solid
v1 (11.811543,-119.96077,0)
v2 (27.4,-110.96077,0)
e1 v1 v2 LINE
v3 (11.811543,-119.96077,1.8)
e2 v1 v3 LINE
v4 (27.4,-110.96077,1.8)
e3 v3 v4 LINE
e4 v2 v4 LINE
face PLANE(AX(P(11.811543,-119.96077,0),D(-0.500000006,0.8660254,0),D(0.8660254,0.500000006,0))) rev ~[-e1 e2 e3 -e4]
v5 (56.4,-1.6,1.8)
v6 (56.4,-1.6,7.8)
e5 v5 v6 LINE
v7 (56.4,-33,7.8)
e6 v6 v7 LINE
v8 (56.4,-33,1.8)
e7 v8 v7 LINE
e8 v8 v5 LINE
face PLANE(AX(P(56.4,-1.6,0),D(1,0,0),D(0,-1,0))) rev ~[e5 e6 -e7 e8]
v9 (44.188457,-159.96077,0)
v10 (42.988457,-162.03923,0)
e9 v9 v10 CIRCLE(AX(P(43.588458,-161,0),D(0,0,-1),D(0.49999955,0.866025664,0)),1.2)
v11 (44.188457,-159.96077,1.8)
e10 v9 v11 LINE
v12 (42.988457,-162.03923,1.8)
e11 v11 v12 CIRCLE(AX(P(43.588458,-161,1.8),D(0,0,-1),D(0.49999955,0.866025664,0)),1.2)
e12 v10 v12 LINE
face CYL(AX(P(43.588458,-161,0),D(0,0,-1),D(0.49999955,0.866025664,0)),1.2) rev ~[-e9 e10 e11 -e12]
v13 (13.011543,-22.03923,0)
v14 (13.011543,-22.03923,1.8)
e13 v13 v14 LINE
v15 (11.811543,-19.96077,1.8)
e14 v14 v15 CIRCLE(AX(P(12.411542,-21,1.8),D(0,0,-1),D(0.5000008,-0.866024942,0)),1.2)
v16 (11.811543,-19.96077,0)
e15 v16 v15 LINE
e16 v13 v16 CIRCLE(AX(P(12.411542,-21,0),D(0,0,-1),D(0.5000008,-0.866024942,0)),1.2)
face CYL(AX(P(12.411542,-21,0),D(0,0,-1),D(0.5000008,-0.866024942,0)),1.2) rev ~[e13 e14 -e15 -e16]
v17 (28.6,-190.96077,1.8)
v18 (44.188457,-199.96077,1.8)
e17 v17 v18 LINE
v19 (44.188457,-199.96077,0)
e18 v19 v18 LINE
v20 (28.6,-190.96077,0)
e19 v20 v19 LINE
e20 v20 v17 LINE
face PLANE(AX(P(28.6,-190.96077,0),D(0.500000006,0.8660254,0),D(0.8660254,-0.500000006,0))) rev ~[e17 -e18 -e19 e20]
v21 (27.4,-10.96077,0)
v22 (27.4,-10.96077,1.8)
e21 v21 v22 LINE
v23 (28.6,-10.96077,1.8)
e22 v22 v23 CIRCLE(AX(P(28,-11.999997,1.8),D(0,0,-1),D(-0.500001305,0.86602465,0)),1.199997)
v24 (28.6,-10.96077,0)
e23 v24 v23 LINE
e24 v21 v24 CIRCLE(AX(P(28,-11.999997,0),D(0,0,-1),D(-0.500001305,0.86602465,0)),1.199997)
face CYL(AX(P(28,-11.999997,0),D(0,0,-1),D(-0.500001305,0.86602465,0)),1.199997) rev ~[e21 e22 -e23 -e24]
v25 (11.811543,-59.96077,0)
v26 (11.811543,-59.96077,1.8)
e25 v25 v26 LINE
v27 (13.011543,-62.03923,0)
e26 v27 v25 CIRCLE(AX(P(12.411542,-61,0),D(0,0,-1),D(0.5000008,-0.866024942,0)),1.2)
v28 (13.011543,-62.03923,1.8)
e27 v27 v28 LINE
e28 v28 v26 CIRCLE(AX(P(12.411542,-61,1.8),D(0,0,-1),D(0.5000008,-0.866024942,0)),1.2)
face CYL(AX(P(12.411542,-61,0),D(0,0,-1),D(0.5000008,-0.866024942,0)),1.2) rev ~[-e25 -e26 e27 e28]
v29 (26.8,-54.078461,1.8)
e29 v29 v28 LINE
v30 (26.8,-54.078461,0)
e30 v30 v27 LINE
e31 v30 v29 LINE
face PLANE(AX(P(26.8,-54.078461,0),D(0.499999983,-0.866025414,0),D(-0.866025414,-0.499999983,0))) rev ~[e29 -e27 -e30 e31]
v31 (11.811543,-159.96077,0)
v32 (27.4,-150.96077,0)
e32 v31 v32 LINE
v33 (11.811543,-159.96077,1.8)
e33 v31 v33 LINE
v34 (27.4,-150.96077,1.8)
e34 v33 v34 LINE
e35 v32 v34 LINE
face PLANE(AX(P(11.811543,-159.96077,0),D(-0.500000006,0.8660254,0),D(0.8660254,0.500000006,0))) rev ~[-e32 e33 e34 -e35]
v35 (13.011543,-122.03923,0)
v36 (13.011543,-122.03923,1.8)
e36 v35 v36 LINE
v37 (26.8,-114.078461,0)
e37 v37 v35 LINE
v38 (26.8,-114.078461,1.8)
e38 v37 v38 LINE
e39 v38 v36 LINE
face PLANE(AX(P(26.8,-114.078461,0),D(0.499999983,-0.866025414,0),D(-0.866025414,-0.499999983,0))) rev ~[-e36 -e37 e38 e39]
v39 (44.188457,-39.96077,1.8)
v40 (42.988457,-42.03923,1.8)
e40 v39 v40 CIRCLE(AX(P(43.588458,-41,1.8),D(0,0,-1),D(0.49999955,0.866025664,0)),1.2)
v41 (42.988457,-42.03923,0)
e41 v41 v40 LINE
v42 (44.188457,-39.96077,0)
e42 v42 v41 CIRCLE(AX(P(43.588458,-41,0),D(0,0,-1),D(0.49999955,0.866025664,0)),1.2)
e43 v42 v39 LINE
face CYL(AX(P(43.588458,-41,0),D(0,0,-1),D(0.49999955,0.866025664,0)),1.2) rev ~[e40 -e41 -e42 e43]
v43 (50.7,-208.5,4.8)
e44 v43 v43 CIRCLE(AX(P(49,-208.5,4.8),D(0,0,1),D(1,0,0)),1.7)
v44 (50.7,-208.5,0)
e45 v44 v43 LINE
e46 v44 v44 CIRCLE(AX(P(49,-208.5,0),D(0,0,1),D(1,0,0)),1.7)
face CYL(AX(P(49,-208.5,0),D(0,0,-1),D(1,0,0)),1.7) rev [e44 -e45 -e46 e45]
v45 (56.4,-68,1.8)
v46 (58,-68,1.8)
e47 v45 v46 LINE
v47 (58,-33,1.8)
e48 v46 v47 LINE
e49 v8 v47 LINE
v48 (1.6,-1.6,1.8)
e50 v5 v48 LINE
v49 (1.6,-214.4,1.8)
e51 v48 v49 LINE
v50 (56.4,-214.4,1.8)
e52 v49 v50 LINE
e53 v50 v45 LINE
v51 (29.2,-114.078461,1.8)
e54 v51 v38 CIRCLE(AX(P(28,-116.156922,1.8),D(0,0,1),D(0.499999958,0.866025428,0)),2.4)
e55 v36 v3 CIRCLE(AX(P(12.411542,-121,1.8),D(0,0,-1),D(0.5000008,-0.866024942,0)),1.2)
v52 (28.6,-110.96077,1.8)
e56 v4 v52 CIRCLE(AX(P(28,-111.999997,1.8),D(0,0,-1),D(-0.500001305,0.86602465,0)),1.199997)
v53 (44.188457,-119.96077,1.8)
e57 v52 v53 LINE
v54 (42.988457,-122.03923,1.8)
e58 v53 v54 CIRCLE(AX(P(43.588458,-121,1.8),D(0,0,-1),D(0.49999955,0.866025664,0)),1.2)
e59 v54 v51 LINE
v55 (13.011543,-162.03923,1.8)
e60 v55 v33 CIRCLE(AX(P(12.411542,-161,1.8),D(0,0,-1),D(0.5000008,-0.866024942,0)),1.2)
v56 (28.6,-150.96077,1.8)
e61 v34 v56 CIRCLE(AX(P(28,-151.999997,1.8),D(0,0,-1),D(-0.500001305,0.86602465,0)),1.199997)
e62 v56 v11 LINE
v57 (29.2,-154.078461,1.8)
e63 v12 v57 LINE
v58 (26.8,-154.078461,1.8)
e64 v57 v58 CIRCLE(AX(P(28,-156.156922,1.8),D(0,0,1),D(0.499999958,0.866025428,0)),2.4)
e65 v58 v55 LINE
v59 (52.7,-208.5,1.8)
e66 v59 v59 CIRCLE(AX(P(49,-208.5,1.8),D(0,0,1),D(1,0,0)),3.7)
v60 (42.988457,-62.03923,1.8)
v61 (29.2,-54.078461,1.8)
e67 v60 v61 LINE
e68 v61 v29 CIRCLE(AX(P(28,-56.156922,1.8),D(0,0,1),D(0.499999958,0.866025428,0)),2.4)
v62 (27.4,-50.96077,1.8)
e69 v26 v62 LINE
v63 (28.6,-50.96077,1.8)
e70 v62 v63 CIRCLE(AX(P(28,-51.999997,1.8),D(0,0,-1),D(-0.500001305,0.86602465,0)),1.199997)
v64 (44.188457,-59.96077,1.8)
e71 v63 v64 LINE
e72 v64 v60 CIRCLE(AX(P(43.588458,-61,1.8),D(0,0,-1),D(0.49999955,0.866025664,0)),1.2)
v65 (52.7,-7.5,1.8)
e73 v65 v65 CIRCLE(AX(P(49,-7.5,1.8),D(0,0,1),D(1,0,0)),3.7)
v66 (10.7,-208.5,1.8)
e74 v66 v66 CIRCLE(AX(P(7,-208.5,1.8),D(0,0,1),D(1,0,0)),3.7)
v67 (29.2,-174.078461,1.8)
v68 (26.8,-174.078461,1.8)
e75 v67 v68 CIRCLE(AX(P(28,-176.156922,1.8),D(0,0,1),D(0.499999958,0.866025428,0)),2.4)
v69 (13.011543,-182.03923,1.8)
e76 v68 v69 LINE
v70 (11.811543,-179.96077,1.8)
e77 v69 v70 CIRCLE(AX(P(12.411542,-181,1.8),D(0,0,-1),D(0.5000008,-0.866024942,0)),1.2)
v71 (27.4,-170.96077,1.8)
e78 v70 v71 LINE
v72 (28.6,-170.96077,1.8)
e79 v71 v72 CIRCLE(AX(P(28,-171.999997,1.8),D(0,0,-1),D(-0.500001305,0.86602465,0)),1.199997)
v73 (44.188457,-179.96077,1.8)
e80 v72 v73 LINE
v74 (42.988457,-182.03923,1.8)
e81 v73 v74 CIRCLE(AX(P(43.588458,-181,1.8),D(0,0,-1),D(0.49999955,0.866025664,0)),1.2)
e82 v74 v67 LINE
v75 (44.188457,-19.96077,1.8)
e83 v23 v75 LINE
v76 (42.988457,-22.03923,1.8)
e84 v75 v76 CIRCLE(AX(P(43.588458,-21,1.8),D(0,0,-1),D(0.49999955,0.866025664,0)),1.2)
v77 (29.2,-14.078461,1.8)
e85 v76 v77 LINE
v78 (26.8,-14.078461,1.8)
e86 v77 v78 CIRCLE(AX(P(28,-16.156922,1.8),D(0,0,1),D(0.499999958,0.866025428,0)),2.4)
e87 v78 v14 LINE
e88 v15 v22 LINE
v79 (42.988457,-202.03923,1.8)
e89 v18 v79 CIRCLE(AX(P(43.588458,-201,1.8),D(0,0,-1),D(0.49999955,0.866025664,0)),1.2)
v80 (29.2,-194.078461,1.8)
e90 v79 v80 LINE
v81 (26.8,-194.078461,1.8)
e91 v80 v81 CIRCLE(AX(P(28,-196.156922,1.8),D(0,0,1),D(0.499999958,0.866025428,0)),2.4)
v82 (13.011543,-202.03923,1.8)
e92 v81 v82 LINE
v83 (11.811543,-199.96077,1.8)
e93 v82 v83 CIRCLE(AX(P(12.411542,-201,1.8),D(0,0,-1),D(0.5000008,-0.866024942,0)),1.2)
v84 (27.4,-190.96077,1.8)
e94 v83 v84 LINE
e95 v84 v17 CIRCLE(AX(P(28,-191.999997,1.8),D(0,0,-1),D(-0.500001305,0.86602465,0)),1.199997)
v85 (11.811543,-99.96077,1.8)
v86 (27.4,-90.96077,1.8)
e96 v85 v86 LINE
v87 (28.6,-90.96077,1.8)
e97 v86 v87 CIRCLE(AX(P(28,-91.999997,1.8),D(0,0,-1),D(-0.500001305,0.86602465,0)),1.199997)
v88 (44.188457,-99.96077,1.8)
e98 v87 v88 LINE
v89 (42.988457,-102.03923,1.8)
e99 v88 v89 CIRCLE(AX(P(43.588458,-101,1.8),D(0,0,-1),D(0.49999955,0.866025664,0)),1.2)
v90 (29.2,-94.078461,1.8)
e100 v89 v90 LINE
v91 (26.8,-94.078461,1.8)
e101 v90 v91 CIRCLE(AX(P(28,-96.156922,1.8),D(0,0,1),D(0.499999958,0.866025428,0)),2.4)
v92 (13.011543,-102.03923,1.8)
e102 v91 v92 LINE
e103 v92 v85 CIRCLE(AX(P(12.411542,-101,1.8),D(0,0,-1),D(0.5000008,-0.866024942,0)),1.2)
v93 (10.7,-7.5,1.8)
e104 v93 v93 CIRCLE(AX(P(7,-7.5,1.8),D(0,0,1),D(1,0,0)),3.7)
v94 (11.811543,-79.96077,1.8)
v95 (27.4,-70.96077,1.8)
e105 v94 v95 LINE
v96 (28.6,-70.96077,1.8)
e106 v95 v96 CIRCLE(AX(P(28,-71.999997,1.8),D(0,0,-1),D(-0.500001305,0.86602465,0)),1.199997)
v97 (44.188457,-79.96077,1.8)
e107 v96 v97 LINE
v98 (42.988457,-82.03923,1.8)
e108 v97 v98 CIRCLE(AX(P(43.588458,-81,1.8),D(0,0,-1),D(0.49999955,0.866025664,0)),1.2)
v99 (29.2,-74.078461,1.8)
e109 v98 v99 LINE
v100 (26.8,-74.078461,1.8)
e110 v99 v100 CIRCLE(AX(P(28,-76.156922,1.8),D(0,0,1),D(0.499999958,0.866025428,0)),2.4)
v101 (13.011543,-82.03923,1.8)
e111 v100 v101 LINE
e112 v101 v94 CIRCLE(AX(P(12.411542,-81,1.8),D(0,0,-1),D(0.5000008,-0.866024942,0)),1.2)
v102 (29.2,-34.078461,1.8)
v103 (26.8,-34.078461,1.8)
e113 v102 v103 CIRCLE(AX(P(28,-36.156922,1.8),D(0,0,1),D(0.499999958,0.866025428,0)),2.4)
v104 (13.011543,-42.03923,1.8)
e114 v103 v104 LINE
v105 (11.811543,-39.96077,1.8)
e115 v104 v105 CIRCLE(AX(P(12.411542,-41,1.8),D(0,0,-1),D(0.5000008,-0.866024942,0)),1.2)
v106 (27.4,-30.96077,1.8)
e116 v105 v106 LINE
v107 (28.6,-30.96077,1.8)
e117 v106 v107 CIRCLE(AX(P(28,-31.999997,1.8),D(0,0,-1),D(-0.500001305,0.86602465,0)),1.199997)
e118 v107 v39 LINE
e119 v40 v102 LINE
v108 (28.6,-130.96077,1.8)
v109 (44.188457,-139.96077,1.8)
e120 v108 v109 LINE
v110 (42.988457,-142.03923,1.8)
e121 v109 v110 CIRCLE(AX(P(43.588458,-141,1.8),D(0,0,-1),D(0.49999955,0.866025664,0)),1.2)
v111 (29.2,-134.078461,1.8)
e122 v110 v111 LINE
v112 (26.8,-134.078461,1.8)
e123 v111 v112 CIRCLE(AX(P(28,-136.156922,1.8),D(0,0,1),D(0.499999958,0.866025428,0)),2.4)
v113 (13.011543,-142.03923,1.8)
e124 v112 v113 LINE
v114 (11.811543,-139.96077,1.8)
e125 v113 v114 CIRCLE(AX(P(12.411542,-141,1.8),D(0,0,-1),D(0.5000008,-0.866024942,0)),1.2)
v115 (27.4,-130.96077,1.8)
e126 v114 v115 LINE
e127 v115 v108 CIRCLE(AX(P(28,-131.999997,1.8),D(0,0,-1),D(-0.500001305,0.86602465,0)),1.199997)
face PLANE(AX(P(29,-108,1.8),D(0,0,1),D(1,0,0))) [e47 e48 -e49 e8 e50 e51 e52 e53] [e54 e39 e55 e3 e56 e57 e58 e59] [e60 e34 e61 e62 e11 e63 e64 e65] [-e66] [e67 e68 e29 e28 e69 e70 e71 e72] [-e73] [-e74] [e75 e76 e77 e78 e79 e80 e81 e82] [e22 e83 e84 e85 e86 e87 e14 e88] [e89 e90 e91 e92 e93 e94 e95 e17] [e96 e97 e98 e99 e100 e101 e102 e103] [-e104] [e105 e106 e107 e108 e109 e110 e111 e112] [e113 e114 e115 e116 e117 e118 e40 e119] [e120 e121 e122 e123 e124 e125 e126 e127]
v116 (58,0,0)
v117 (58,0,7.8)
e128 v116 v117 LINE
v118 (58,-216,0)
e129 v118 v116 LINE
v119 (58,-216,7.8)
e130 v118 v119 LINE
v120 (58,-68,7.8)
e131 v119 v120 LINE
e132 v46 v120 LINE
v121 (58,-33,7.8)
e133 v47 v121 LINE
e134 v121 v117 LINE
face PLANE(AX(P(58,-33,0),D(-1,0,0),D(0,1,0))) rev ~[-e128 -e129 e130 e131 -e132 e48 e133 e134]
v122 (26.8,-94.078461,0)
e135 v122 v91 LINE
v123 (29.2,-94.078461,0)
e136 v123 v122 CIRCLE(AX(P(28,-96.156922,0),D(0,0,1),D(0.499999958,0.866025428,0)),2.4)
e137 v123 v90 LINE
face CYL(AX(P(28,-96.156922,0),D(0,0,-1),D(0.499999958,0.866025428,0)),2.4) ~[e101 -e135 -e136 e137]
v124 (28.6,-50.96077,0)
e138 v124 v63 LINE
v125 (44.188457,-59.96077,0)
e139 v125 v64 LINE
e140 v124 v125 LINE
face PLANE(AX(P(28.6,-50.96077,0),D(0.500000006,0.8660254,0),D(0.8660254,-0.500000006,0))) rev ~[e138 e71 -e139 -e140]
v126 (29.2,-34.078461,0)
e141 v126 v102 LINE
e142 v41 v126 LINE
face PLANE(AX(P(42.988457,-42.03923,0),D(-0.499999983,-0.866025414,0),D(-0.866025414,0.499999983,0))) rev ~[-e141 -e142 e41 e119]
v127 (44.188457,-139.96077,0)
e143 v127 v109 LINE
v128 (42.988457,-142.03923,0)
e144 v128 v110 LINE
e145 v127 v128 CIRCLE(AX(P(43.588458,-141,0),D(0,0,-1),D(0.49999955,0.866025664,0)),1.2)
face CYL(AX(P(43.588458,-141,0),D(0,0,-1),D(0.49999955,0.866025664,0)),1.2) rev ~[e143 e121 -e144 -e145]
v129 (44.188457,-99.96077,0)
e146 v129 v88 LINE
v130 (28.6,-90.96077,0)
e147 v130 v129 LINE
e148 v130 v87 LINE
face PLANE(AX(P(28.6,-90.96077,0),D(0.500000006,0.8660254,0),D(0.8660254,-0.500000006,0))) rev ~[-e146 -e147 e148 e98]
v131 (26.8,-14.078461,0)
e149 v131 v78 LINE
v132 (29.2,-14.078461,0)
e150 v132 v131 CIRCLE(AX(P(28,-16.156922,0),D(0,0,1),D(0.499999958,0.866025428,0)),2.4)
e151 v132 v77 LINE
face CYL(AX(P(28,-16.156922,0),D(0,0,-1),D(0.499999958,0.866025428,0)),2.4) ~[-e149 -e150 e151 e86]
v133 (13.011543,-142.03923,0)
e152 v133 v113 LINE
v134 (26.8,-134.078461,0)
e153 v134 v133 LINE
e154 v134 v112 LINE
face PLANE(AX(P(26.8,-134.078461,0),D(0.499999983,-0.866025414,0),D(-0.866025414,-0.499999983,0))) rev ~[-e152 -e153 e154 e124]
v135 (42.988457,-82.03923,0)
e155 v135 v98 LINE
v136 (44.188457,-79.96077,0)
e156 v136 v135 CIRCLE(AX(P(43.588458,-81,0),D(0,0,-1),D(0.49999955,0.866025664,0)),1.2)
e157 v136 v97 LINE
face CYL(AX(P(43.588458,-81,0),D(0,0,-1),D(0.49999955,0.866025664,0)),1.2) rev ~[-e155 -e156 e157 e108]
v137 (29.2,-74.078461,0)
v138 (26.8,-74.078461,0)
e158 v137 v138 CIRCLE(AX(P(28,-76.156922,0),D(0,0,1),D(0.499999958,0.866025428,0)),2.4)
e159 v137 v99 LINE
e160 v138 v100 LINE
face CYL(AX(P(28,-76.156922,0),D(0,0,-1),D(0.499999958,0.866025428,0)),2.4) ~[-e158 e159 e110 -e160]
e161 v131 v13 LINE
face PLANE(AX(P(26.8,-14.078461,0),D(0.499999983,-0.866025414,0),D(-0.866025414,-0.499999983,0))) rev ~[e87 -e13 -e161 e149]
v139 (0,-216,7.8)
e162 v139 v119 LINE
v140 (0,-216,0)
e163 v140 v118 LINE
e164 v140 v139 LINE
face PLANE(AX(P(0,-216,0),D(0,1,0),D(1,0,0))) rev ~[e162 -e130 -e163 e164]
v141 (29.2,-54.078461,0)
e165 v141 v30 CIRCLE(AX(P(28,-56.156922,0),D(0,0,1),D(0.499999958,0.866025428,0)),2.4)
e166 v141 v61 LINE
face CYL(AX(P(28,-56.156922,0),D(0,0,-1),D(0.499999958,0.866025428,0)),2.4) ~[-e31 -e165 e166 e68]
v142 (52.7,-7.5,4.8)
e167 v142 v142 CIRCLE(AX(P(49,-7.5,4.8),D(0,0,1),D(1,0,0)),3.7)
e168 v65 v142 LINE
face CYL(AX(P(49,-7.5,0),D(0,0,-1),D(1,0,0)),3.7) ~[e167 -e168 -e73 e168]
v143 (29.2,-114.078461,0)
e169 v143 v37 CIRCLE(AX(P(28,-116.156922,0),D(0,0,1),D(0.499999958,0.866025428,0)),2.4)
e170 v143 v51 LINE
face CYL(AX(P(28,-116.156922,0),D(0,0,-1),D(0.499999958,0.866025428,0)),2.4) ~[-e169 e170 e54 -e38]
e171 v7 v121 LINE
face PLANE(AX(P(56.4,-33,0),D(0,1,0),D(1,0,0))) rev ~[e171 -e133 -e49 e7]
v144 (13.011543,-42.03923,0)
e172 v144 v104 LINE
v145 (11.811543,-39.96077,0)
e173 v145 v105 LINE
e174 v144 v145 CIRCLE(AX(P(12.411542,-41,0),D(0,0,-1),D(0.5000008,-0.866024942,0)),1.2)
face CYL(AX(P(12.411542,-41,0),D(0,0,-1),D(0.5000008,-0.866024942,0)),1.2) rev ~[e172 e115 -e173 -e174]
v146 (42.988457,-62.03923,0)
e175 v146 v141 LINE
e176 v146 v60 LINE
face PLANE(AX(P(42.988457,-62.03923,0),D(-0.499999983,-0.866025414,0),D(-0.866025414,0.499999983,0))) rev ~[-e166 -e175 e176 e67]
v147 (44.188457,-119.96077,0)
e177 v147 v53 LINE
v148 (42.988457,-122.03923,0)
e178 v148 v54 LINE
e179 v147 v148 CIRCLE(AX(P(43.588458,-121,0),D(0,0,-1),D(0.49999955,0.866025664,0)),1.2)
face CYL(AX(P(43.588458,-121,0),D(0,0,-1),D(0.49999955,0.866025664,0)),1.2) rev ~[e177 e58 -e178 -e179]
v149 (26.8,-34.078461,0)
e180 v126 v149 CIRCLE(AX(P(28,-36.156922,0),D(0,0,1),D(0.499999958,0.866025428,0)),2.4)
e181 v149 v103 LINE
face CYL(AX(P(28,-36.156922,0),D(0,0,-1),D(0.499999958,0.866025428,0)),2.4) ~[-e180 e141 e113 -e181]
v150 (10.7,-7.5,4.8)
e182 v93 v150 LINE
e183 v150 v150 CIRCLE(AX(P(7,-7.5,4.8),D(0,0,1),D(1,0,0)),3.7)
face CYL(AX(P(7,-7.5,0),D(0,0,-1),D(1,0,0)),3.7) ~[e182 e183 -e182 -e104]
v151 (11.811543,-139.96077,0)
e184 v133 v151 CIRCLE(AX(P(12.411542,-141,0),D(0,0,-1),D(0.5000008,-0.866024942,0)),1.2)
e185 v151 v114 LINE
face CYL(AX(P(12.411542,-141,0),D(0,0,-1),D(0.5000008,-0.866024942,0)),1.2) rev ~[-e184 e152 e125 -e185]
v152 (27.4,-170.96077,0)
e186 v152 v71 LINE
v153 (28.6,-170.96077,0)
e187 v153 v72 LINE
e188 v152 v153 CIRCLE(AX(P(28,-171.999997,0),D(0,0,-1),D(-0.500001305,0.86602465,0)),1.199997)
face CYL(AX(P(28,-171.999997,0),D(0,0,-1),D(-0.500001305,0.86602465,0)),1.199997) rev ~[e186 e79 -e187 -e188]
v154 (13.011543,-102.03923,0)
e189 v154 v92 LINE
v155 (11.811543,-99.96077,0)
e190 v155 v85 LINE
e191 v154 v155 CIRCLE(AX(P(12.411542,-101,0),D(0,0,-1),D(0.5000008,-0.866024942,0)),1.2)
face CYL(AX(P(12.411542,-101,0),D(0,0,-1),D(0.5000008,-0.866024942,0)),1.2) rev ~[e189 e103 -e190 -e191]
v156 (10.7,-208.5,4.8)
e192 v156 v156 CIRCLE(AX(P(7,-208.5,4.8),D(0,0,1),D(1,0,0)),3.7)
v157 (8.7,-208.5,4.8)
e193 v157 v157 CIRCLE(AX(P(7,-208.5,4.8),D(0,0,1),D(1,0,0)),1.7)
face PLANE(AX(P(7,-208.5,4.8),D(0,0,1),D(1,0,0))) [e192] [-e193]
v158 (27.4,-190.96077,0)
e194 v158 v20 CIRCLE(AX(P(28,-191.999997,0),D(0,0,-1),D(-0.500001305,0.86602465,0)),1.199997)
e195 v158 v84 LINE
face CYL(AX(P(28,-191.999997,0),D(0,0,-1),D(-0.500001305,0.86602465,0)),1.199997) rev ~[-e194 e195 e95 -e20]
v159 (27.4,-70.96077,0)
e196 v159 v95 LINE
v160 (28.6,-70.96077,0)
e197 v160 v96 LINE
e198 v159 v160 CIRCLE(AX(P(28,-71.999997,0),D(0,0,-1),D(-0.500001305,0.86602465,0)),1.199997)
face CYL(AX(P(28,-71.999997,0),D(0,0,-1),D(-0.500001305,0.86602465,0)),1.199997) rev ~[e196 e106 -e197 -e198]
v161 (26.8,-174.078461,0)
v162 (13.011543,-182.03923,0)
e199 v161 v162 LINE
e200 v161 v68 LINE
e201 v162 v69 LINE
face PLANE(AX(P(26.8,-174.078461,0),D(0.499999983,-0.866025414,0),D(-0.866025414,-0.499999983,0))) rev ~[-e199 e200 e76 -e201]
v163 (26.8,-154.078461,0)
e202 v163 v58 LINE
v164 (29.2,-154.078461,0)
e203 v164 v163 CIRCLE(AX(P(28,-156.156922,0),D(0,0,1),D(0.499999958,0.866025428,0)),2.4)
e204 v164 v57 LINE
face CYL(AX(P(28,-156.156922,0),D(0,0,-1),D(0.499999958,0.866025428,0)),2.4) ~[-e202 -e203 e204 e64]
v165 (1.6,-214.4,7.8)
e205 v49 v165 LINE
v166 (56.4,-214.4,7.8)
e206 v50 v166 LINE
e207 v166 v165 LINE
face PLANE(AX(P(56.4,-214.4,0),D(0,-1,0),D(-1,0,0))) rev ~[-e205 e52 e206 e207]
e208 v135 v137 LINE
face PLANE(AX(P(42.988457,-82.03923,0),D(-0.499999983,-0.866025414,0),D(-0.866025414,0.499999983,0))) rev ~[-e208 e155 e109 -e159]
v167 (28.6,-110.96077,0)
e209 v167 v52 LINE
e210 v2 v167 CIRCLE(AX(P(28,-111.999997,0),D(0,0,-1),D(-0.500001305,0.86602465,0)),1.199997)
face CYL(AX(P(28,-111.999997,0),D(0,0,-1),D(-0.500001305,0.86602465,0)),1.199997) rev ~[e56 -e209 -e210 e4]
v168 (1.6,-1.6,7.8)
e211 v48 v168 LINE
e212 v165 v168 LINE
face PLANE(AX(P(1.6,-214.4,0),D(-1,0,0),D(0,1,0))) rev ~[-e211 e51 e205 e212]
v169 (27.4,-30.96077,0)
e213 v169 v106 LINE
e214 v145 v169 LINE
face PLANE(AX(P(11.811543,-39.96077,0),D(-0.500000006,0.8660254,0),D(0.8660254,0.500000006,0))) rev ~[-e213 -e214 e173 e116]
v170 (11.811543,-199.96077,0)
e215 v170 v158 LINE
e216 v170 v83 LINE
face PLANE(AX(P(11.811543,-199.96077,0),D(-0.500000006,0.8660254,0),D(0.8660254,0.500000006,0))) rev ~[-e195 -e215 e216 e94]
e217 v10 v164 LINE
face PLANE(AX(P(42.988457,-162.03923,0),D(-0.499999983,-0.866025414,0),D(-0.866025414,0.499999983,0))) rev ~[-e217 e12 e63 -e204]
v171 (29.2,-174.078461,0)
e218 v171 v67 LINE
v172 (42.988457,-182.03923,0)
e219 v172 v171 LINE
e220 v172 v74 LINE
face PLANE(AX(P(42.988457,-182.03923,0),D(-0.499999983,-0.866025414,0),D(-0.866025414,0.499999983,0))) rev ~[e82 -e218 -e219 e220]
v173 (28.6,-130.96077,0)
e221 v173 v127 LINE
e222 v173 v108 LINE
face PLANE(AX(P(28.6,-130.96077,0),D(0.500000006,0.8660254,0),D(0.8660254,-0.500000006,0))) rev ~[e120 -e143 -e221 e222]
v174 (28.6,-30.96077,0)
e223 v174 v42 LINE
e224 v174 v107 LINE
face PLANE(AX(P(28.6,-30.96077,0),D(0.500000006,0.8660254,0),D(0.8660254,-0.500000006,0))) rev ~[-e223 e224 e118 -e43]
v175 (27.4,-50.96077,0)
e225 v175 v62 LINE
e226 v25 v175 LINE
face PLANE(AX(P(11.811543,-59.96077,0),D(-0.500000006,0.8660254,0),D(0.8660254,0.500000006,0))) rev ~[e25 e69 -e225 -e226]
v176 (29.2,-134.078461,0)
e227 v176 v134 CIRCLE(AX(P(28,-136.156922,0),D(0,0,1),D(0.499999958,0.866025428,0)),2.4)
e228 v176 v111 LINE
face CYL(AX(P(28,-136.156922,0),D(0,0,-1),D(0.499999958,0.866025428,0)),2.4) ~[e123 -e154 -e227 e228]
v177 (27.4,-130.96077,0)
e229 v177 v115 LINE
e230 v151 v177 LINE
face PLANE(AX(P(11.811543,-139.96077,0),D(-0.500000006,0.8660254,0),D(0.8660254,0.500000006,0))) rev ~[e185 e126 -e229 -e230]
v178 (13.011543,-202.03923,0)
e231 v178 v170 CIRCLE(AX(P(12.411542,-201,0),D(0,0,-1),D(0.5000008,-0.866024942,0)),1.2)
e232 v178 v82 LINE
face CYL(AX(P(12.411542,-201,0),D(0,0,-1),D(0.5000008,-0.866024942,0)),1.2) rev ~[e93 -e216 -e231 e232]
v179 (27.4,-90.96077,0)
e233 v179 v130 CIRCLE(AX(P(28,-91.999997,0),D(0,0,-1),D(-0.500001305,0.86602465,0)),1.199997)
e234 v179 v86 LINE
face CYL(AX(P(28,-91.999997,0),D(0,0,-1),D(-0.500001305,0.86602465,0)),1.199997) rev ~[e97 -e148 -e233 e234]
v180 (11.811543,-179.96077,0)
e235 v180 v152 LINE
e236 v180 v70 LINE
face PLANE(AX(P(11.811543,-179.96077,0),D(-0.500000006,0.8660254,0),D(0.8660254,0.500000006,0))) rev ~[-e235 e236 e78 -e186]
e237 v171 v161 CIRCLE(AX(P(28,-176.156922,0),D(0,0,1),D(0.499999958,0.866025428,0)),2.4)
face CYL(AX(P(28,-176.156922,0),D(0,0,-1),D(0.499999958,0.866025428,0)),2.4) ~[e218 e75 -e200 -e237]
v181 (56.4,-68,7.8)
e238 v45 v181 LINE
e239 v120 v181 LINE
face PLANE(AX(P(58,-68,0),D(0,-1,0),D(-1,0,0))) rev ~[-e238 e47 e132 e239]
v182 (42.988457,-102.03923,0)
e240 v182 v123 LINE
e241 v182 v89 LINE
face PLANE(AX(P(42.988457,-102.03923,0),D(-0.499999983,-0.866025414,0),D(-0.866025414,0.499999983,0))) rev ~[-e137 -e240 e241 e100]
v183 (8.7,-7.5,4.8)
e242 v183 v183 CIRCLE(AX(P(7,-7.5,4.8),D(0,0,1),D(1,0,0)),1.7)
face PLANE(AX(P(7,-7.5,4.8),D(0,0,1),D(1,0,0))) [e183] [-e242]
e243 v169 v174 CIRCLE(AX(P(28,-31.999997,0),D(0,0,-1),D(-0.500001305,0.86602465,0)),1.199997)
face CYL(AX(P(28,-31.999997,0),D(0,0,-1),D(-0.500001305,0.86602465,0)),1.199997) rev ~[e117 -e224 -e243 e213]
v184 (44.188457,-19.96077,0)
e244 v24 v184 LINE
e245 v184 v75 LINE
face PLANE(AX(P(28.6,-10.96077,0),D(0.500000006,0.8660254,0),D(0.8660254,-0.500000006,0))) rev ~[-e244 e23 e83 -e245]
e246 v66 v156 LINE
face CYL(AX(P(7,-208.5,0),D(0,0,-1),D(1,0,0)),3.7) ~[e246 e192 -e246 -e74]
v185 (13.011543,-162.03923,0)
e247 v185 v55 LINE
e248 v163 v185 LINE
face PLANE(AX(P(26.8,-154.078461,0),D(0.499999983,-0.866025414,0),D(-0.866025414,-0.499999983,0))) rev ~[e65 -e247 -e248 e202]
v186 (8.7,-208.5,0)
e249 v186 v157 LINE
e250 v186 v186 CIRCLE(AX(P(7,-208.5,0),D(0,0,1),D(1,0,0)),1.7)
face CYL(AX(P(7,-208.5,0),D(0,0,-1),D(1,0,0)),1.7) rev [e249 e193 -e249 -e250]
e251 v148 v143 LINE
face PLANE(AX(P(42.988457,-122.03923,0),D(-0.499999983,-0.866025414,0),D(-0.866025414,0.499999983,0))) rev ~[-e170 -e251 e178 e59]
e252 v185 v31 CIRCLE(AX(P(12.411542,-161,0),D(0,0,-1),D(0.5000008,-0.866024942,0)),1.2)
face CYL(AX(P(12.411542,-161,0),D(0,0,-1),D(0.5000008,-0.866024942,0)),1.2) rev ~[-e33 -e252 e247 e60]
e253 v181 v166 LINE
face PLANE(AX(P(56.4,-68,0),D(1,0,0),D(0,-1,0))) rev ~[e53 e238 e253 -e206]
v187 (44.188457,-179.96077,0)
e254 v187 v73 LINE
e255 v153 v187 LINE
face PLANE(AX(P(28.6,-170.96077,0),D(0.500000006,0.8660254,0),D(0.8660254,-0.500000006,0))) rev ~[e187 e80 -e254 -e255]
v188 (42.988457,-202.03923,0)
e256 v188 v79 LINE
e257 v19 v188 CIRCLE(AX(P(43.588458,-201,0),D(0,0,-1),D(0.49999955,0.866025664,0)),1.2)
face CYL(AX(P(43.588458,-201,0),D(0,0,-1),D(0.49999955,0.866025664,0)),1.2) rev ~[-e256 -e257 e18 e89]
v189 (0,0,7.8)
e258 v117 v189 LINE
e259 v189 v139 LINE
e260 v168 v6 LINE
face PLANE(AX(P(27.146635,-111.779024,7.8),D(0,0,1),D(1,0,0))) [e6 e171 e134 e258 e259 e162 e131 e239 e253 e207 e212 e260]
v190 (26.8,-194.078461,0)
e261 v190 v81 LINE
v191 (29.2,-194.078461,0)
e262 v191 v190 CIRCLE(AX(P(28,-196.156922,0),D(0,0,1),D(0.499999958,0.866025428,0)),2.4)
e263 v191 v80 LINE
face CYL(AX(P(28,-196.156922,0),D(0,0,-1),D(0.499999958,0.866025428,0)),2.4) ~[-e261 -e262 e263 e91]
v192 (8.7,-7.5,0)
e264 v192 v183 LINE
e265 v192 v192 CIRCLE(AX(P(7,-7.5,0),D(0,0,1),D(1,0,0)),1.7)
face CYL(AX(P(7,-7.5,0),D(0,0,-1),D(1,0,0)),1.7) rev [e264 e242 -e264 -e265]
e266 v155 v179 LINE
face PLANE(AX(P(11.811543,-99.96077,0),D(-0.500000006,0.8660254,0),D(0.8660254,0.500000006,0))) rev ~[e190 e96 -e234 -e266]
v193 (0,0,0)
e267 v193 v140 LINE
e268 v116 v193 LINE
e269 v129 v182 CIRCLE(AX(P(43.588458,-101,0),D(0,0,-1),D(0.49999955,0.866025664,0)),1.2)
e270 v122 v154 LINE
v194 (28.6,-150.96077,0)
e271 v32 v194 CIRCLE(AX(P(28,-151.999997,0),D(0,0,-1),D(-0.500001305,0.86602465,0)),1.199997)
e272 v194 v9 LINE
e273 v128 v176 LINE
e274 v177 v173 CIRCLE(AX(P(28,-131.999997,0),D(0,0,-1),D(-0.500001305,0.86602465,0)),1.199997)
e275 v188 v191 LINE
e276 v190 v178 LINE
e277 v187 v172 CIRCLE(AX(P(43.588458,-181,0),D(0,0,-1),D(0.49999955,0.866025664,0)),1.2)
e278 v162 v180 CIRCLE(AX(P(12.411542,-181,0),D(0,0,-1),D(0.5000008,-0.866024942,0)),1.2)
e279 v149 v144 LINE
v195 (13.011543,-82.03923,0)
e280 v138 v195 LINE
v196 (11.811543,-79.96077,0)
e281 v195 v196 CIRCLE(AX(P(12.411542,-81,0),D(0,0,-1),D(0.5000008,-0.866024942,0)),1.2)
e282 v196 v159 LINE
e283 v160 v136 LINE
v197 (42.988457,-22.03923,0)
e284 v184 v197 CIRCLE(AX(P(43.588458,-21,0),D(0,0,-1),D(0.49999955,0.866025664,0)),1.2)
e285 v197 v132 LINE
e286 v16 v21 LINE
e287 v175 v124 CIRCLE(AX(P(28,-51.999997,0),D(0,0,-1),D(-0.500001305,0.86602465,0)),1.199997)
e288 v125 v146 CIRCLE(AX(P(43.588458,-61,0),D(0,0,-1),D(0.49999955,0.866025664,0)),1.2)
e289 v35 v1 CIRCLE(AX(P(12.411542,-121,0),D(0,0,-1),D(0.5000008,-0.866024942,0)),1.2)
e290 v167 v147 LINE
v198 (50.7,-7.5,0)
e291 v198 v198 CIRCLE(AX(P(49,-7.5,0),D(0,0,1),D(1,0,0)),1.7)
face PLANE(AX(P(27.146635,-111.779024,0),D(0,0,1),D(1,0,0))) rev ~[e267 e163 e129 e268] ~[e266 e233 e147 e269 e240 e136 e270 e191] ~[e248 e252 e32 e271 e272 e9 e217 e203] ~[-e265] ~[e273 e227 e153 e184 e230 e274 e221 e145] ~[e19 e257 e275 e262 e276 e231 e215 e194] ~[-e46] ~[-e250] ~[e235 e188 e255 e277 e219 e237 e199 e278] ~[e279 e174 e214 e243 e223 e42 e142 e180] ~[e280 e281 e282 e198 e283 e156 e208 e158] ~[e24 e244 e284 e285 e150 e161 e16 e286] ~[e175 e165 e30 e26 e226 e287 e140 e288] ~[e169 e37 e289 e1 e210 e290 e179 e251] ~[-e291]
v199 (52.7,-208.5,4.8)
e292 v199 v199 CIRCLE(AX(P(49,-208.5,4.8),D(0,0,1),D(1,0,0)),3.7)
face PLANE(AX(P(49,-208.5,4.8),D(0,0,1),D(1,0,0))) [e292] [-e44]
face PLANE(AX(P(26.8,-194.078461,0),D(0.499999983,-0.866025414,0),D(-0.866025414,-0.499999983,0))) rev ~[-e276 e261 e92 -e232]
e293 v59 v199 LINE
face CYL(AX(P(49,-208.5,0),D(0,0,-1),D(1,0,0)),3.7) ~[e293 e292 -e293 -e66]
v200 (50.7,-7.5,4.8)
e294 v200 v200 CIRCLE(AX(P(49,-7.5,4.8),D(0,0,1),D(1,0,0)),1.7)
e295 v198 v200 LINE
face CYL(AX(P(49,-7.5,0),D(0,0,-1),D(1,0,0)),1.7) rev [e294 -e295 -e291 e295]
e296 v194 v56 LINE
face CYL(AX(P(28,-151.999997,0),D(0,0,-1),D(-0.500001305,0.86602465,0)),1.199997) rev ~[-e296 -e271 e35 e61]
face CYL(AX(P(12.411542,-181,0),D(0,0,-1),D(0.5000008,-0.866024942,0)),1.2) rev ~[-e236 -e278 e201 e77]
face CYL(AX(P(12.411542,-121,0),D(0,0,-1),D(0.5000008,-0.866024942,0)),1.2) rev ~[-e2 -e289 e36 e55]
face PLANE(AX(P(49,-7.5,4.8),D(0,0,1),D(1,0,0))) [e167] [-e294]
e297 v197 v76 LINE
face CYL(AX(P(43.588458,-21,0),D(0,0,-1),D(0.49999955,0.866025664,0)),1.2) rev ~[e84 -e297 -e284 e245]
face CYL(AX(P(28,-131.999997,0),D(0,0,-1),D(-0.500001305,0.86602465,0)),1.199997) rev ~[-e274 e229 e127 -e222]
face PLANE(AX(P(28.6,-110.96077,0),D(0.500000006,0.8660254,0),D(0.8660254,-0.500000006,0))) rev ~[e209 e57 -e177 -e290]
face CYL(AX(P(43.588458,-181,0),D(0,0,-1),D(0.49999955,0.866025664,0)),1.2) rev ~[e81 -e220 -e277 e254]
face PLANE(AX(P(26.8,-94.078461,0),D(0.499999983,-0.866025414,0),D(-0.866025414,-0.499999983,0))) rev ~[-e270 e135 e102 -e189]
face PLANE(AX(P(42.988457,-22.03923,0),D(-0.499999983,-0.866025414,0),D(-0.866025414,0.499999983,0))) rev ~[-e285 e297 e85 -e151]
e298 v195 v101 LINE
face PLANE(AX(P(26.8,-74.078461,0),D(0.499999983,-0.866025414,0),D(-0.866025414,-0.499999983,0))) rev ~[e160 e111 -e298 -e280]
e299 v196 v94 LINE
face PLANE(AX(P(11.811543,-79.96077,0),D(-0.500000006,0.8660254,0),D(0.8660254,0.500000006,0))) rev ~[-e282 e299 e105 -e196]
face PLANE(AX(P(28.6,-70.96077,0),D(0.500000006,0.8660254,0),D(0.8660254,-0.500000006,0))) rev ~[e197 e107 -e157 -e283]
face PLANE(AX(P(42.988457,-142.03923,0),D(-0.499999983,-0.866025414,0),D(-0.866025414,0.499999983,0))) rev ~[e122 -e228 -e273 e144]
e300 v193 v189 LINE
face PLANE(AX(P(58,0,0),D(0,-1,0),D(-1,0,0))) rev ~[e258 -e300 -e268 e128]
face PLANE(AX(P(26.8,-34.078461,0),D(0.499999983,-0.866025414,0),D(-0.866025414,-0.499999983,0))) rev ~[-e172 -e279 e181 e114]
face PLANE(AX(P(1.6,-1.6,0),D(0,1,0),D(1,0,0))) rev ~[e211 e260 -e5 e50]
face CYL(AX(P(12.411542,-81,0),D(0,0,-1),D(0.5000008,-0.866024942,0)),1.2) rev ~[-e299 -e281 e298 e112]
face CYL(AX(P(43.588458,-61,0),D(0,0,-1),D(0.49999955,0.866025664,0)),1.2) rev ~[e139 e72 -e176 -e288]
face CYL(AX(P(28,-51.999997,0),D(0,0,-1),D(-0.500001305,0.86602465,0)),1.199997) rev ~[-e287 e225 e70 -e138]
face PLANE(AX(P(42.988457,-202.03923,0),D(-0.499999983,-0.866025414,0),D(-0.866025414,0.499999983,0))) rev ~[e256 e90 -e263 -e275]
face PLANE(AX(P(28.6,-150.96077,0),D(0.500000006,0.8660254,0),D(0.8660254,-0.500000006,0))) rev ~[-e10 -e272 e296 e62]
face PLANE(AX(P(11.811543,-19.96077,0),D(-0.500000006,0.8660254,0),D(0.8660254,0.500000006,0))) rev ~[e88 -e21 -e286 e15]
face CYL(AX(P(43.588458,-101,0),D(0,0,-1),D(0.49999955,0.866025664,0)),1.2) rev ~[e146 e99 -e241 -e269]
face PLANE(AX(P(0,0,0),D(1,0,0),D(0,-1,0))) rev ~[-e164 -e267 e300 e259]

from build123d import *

# Parameters (mm, degrees)
F0_R     = 3.7
F0_W     = 1.6
F0_H     = 35
F1_DEPTH = 1.8
F0_R_2   = 1.7
F2_DEPTH = 4.8
F3_DEPTH = 7.8


with BuildPart() as f1:
    # F0 (on Top) → F1 (new body)
    with BuildSketch(Plane.XY):
        Polygon((56.4, -68), (56.4, -33), (56.4, -1.6), (1.6, -1.6), (1.6, -214.4), (56.4, -214.4), align=None)
        with Locations((7, -208.5)):
            Circle(F0_R, mode=Mode.SUBTRACT)
        with BuildLine():
            Line((11.811543, -199.96077), (27.4, -190.96077))
            ThreePointArc((27.4, -190.96077), (28, -190.8), (28.6, -190.96077))
            Line((28.6, -190.96077), (44.188457, -199.96077))
            ThreePointArc((44.188457, -199.96077), (44.627688, -201.6), (42.988457, -202.03923))
            Line((42.988457, -202.03923), (29.2, -194.078461))
            ThreePointArc((29.2, -194.078461), (28, -193.756922), (26.8, -194.078461))
            Line((26.8, -194.078461), (13.011543, -202.03923))
            ThreePointArc((13.011543, -202.03923), (11.372312, -201.6), (11.811543, -199.96077))
        make_face(mode=Mode.SUBTRACT)
        with BuildLine():
            Line((11.811543, -179.96077), (27.4, -170.96077))
            ThreePointArc((27.4, -170.96077), (28, -170.8), (28.6, -170.96077))
            Line((28.6, -170.96077), (44.188457, -179.96077))
            ThreePointArc((44.188457, -179.96077), (44.627688, -181.6), (42.988457, -182.03923))
            Line((42.988457, -182.03923), (29.2, -174.078461))
            ThreePointArc((29.2, -174.078461), (28, -173.756922), (26.8, -174.078461))
            Line((26.8, -174.078461), (13.011543, -182.03923))
            ThreePointArc((13.011543, -182.03923), (11.372312, -181.6), (11.811543, -179.96077))
        make_face(mode=Mode.SUBTRACT)
        with BuildLine():
            Line((11.811543, -159.96077), (27.4, -150.96077))
            ThreePointArc((27.4, -150.96077), (28, -150.8), (28.6, -150.96077))
            Line((28.6, -150.96077), (44.188457, -159.96077))
            ThreePointArc((44.188457, -159.96077), (44.627688, -161.6), (42.988457, -162.03923))
            Line((42.988457, -162.03923), (29.2, -154.078461))
            ThreePointArc((29.2, -154.078461), (28, -153.756922), (26.8, -154.078461))
            Line((26.8, -154.078461), (13.011543, -162.03923))
            ThreePointArc((13.011543, -162.03923), (11.372312, -161.6), (11.811543, -159.96077))
        make_face(mode=Mode.SUBTRACT)
        with BuildLine():
            Line((11.811543, -139.96077), (27.4, -130.96077))
            ThreePointArc((27.4, -130.96077), (28, -130.8), (28.6, -130.96077))
            Line((28.6, -130.96077), (44.188457, -139.96077))
            ThreePointArc((44.188457, -139.96077), (44.627688, -141.6), (42.988457, -142.03923))
            Line((42.988457, -142.03923), (29.2, -134.078461))
            ThreePointArc((29.2, -134.078461), (28, -133.756922), (26.8, -134.078461))
            Line((26.8, -134.078461), (13.011543, -142.03923))
            ThreePointArc((13.011543, -142.03923), (11.372312, -141.6), (11.811543, -139.96077))
        make_face(mode=Mode.SUBTRACT)
        with BuildLine():
            Line((11.811543, -119.96077), (27.4, -110.96077))
            ThreePointArc((27.4, -110.96077), (28, -110.8), (28.6, -110.96077))
            Line((28.6, -110.96077), (44.188457, -119.96077))
            ThreePointArc((44.188457, -119.96077), (44.627688, -121.6), (42.988457, -122.03923))
            Line((42.988457, -122.03923), (29.2, -114.078461))
            ThreePointArc((29.2, -114.078461), (28, -113.756922), (26.8, -114.078461))
            Line((26.8, -114.078461), (13.011543, -122.03923))
            ThreePointArc((13.011543, -122.03923), (11.372312, -121.6), (11.811543, -119.96077))
        make_face(mode=Mode.SUBTRACT)
        with Locations((49, -208.5)):
            Circle(F0_R, mode=Mode.SUBTRACT)
        with BuildLine():
            Line((11.811543, -99.96077), (27.4, -90.96077))
            ThreePointArc((27.4, -90.96077), (28, -90.8), (28.6, -90.96077))
            Line((28.6, -90.96077), (44.188457, -99.96077))
            ThreePointArc((44.188457, -99.96077), (44.627688, -101.6), (42.988457, -102.03923))
            Line((42.988457, -102.03923), (29.2, -94.078461))
            ThreePointArc((29.2, -94.078461), (28, -93.756922), (26.8, -94.078461))
            Line((26.8, -94.078461), (13.011543, -102.03923))
            ThreePointArc((13.011543, -102.03923), (11.372312, -101.6), (11.811543, -99.96077))
        make_face(mode=Mode.SUBTRACT)
        with BuildLine():
            Line((11.811543, -79.96077), (27.4, -70.96077))
            ThreePointArc((27.4, -70.96077), (28, -70.8), (28.6, -70.96077))
            Line((28.6, -70.96077), (44.188457, -79.96077))
            ThreePointArc((44.188457, -79.96077), (44.627688, -81.6), (42.988457, -82.03923))
            Line((42.988457, -82.03923), (29.2, -74.078461))
            ThreePointArc((29.2, -74.078461), (28, -73.756922), (26.8, -74.078461))
            Line((26.8, -74.078461), (13.011543, -82.03923))
            ThreePointArc((13.011543, -82.03923), (11.372312, -81.6), (11.811543, -79.96077))
        make_face(mode=Mode.SUBTRACT)
        with BuildLine():
            Line((11.811543, -59.96077), (27.4, -50.96077))
            ThreePointArc((27.4, -50.96077), (28, -50.8), (28.6, -50.96077))
            Line((28.6, -50.96077), (44.188457, -59.96077))
            ThreePointArc((44.188457, -59.96077), (44.627688, -61.6), (42.988457, -62.03923))
            Line((42.988457, -62.03923), (29.2, -54.078461))
            ThreePointArc((29.2, -54.078461), (28, -53.756922), (26.8, -54.078461))
            Line((26.8, -54.078461), (13.011543, -62.03923))
            ThreePointArc((13.011543, -62.03923), (11.372312, -61.6), (11.811543, -59.96077))
        make_face(mode=Mode.SUBTRACT)
        with Locations((7, -7.5)):
            Circle(F0_R, mode=Mode.SUBTRACT)
        with BuildLine():
            Line((11.811543, -39.96077), (27.4, -30.96077))
            ThreePointArc((27.4, -30.96077), (28, -30.8), (28.6, -30.96077))
            Line((28.6, -30.96077), (44.188457, -39.96077))
            ThreePointArc((44.188457, -39.96077), (44.627688, -41.6), (42.988457, -42.03923))
            Line((42.988457, -42.03923), (29.2, -34.078461))
            ThreePointArc((29.2, -34.078461), (28, -33.756922), (26.8, -34.078461))
            Line((26.8, -34.078461), (13.011543, -42.03923))
            ThreePointArc((13.011543, -42.03923), (11.372312, -41.6), (11.811543, -39.96077))
        make_face(mode=Mode.SUBTRACT)
        with BuildLine():
            Line((11.811543, -19.96077), (27.4, -10.96077))
            ThreePointArc((27.4, -10.96077), (28, -10.8), (28.6, -10.96077))
            Line((28.6, -10.96077), (44.188457, -19.96077))
            ThreePointArc((44.188457, -19.96077), (44.627688, -21.6), (42.988457, -22.03923))
            Line((42.988457, -22.03923), (29.2, -14.078461))
            ThreePointArc((29.2, -14.078461), (28, -13.756922), (26.8, -14.078461))
            Line((26.8, -14.078461), (13.011543, -22.03923))
            ThreePointArc((13.011543, -22.03923), (11.372312, -21.6), (11.811543, -19.96077))
        make_face(mode=Mode.SUBTRACT)
        with Locations((49, -7.5)):
            Circle(F0_R, mode=Mode.SUBTRACT)
        with Locations((57.2, -50.5)):
            Rectangle(F0_W, F0_H)
    extrude(amount=F1_DEPTH)

    # F0 (on Top) → F2 (join)
    with BuildSketch(Plane.XY):
        with Locations((7, -7.5)):
            Circle(F0_R)
        with Locations((7, -7.5)):
            Circle(F0_R_2, mode=Mode.SUBTRACT)
        with Locations((49, -7.5)):
            Circle(F0_R)
        with Locations((49, -7.5)):
            Circle(F0_R_2, mode=Mode.SUBTRACT)
        with Locations((49, -208.5)):
            Circle(F0_R)
        with Locations((49, -208.5)):
            Circle(F0_R_2, mode=Mode.SUBTRACT)
        with Locations((7, -208.5)):
            Circle(F0_R)
        with Locations((7, -208.5)):
            Circle(F0_R_2, mode=Mode.SUBTRACT)
    extrude(amount=F2_DEPTH)

    # F0 (on Top) → F3 (join)
    with BuildSketch(Plane.XY):
        Polygon((58, 0), (0, 0), (0, -216), (58, -216), (58, -68), (56.4, -68), (56.4, -214.4), (1.6, -214.4), (1.6, -1.6), (56.4, -1.6), (56.4, -33), (58, -33), align=None)
    extrude(amount=F3_DEPTH)


solid = f1.part
